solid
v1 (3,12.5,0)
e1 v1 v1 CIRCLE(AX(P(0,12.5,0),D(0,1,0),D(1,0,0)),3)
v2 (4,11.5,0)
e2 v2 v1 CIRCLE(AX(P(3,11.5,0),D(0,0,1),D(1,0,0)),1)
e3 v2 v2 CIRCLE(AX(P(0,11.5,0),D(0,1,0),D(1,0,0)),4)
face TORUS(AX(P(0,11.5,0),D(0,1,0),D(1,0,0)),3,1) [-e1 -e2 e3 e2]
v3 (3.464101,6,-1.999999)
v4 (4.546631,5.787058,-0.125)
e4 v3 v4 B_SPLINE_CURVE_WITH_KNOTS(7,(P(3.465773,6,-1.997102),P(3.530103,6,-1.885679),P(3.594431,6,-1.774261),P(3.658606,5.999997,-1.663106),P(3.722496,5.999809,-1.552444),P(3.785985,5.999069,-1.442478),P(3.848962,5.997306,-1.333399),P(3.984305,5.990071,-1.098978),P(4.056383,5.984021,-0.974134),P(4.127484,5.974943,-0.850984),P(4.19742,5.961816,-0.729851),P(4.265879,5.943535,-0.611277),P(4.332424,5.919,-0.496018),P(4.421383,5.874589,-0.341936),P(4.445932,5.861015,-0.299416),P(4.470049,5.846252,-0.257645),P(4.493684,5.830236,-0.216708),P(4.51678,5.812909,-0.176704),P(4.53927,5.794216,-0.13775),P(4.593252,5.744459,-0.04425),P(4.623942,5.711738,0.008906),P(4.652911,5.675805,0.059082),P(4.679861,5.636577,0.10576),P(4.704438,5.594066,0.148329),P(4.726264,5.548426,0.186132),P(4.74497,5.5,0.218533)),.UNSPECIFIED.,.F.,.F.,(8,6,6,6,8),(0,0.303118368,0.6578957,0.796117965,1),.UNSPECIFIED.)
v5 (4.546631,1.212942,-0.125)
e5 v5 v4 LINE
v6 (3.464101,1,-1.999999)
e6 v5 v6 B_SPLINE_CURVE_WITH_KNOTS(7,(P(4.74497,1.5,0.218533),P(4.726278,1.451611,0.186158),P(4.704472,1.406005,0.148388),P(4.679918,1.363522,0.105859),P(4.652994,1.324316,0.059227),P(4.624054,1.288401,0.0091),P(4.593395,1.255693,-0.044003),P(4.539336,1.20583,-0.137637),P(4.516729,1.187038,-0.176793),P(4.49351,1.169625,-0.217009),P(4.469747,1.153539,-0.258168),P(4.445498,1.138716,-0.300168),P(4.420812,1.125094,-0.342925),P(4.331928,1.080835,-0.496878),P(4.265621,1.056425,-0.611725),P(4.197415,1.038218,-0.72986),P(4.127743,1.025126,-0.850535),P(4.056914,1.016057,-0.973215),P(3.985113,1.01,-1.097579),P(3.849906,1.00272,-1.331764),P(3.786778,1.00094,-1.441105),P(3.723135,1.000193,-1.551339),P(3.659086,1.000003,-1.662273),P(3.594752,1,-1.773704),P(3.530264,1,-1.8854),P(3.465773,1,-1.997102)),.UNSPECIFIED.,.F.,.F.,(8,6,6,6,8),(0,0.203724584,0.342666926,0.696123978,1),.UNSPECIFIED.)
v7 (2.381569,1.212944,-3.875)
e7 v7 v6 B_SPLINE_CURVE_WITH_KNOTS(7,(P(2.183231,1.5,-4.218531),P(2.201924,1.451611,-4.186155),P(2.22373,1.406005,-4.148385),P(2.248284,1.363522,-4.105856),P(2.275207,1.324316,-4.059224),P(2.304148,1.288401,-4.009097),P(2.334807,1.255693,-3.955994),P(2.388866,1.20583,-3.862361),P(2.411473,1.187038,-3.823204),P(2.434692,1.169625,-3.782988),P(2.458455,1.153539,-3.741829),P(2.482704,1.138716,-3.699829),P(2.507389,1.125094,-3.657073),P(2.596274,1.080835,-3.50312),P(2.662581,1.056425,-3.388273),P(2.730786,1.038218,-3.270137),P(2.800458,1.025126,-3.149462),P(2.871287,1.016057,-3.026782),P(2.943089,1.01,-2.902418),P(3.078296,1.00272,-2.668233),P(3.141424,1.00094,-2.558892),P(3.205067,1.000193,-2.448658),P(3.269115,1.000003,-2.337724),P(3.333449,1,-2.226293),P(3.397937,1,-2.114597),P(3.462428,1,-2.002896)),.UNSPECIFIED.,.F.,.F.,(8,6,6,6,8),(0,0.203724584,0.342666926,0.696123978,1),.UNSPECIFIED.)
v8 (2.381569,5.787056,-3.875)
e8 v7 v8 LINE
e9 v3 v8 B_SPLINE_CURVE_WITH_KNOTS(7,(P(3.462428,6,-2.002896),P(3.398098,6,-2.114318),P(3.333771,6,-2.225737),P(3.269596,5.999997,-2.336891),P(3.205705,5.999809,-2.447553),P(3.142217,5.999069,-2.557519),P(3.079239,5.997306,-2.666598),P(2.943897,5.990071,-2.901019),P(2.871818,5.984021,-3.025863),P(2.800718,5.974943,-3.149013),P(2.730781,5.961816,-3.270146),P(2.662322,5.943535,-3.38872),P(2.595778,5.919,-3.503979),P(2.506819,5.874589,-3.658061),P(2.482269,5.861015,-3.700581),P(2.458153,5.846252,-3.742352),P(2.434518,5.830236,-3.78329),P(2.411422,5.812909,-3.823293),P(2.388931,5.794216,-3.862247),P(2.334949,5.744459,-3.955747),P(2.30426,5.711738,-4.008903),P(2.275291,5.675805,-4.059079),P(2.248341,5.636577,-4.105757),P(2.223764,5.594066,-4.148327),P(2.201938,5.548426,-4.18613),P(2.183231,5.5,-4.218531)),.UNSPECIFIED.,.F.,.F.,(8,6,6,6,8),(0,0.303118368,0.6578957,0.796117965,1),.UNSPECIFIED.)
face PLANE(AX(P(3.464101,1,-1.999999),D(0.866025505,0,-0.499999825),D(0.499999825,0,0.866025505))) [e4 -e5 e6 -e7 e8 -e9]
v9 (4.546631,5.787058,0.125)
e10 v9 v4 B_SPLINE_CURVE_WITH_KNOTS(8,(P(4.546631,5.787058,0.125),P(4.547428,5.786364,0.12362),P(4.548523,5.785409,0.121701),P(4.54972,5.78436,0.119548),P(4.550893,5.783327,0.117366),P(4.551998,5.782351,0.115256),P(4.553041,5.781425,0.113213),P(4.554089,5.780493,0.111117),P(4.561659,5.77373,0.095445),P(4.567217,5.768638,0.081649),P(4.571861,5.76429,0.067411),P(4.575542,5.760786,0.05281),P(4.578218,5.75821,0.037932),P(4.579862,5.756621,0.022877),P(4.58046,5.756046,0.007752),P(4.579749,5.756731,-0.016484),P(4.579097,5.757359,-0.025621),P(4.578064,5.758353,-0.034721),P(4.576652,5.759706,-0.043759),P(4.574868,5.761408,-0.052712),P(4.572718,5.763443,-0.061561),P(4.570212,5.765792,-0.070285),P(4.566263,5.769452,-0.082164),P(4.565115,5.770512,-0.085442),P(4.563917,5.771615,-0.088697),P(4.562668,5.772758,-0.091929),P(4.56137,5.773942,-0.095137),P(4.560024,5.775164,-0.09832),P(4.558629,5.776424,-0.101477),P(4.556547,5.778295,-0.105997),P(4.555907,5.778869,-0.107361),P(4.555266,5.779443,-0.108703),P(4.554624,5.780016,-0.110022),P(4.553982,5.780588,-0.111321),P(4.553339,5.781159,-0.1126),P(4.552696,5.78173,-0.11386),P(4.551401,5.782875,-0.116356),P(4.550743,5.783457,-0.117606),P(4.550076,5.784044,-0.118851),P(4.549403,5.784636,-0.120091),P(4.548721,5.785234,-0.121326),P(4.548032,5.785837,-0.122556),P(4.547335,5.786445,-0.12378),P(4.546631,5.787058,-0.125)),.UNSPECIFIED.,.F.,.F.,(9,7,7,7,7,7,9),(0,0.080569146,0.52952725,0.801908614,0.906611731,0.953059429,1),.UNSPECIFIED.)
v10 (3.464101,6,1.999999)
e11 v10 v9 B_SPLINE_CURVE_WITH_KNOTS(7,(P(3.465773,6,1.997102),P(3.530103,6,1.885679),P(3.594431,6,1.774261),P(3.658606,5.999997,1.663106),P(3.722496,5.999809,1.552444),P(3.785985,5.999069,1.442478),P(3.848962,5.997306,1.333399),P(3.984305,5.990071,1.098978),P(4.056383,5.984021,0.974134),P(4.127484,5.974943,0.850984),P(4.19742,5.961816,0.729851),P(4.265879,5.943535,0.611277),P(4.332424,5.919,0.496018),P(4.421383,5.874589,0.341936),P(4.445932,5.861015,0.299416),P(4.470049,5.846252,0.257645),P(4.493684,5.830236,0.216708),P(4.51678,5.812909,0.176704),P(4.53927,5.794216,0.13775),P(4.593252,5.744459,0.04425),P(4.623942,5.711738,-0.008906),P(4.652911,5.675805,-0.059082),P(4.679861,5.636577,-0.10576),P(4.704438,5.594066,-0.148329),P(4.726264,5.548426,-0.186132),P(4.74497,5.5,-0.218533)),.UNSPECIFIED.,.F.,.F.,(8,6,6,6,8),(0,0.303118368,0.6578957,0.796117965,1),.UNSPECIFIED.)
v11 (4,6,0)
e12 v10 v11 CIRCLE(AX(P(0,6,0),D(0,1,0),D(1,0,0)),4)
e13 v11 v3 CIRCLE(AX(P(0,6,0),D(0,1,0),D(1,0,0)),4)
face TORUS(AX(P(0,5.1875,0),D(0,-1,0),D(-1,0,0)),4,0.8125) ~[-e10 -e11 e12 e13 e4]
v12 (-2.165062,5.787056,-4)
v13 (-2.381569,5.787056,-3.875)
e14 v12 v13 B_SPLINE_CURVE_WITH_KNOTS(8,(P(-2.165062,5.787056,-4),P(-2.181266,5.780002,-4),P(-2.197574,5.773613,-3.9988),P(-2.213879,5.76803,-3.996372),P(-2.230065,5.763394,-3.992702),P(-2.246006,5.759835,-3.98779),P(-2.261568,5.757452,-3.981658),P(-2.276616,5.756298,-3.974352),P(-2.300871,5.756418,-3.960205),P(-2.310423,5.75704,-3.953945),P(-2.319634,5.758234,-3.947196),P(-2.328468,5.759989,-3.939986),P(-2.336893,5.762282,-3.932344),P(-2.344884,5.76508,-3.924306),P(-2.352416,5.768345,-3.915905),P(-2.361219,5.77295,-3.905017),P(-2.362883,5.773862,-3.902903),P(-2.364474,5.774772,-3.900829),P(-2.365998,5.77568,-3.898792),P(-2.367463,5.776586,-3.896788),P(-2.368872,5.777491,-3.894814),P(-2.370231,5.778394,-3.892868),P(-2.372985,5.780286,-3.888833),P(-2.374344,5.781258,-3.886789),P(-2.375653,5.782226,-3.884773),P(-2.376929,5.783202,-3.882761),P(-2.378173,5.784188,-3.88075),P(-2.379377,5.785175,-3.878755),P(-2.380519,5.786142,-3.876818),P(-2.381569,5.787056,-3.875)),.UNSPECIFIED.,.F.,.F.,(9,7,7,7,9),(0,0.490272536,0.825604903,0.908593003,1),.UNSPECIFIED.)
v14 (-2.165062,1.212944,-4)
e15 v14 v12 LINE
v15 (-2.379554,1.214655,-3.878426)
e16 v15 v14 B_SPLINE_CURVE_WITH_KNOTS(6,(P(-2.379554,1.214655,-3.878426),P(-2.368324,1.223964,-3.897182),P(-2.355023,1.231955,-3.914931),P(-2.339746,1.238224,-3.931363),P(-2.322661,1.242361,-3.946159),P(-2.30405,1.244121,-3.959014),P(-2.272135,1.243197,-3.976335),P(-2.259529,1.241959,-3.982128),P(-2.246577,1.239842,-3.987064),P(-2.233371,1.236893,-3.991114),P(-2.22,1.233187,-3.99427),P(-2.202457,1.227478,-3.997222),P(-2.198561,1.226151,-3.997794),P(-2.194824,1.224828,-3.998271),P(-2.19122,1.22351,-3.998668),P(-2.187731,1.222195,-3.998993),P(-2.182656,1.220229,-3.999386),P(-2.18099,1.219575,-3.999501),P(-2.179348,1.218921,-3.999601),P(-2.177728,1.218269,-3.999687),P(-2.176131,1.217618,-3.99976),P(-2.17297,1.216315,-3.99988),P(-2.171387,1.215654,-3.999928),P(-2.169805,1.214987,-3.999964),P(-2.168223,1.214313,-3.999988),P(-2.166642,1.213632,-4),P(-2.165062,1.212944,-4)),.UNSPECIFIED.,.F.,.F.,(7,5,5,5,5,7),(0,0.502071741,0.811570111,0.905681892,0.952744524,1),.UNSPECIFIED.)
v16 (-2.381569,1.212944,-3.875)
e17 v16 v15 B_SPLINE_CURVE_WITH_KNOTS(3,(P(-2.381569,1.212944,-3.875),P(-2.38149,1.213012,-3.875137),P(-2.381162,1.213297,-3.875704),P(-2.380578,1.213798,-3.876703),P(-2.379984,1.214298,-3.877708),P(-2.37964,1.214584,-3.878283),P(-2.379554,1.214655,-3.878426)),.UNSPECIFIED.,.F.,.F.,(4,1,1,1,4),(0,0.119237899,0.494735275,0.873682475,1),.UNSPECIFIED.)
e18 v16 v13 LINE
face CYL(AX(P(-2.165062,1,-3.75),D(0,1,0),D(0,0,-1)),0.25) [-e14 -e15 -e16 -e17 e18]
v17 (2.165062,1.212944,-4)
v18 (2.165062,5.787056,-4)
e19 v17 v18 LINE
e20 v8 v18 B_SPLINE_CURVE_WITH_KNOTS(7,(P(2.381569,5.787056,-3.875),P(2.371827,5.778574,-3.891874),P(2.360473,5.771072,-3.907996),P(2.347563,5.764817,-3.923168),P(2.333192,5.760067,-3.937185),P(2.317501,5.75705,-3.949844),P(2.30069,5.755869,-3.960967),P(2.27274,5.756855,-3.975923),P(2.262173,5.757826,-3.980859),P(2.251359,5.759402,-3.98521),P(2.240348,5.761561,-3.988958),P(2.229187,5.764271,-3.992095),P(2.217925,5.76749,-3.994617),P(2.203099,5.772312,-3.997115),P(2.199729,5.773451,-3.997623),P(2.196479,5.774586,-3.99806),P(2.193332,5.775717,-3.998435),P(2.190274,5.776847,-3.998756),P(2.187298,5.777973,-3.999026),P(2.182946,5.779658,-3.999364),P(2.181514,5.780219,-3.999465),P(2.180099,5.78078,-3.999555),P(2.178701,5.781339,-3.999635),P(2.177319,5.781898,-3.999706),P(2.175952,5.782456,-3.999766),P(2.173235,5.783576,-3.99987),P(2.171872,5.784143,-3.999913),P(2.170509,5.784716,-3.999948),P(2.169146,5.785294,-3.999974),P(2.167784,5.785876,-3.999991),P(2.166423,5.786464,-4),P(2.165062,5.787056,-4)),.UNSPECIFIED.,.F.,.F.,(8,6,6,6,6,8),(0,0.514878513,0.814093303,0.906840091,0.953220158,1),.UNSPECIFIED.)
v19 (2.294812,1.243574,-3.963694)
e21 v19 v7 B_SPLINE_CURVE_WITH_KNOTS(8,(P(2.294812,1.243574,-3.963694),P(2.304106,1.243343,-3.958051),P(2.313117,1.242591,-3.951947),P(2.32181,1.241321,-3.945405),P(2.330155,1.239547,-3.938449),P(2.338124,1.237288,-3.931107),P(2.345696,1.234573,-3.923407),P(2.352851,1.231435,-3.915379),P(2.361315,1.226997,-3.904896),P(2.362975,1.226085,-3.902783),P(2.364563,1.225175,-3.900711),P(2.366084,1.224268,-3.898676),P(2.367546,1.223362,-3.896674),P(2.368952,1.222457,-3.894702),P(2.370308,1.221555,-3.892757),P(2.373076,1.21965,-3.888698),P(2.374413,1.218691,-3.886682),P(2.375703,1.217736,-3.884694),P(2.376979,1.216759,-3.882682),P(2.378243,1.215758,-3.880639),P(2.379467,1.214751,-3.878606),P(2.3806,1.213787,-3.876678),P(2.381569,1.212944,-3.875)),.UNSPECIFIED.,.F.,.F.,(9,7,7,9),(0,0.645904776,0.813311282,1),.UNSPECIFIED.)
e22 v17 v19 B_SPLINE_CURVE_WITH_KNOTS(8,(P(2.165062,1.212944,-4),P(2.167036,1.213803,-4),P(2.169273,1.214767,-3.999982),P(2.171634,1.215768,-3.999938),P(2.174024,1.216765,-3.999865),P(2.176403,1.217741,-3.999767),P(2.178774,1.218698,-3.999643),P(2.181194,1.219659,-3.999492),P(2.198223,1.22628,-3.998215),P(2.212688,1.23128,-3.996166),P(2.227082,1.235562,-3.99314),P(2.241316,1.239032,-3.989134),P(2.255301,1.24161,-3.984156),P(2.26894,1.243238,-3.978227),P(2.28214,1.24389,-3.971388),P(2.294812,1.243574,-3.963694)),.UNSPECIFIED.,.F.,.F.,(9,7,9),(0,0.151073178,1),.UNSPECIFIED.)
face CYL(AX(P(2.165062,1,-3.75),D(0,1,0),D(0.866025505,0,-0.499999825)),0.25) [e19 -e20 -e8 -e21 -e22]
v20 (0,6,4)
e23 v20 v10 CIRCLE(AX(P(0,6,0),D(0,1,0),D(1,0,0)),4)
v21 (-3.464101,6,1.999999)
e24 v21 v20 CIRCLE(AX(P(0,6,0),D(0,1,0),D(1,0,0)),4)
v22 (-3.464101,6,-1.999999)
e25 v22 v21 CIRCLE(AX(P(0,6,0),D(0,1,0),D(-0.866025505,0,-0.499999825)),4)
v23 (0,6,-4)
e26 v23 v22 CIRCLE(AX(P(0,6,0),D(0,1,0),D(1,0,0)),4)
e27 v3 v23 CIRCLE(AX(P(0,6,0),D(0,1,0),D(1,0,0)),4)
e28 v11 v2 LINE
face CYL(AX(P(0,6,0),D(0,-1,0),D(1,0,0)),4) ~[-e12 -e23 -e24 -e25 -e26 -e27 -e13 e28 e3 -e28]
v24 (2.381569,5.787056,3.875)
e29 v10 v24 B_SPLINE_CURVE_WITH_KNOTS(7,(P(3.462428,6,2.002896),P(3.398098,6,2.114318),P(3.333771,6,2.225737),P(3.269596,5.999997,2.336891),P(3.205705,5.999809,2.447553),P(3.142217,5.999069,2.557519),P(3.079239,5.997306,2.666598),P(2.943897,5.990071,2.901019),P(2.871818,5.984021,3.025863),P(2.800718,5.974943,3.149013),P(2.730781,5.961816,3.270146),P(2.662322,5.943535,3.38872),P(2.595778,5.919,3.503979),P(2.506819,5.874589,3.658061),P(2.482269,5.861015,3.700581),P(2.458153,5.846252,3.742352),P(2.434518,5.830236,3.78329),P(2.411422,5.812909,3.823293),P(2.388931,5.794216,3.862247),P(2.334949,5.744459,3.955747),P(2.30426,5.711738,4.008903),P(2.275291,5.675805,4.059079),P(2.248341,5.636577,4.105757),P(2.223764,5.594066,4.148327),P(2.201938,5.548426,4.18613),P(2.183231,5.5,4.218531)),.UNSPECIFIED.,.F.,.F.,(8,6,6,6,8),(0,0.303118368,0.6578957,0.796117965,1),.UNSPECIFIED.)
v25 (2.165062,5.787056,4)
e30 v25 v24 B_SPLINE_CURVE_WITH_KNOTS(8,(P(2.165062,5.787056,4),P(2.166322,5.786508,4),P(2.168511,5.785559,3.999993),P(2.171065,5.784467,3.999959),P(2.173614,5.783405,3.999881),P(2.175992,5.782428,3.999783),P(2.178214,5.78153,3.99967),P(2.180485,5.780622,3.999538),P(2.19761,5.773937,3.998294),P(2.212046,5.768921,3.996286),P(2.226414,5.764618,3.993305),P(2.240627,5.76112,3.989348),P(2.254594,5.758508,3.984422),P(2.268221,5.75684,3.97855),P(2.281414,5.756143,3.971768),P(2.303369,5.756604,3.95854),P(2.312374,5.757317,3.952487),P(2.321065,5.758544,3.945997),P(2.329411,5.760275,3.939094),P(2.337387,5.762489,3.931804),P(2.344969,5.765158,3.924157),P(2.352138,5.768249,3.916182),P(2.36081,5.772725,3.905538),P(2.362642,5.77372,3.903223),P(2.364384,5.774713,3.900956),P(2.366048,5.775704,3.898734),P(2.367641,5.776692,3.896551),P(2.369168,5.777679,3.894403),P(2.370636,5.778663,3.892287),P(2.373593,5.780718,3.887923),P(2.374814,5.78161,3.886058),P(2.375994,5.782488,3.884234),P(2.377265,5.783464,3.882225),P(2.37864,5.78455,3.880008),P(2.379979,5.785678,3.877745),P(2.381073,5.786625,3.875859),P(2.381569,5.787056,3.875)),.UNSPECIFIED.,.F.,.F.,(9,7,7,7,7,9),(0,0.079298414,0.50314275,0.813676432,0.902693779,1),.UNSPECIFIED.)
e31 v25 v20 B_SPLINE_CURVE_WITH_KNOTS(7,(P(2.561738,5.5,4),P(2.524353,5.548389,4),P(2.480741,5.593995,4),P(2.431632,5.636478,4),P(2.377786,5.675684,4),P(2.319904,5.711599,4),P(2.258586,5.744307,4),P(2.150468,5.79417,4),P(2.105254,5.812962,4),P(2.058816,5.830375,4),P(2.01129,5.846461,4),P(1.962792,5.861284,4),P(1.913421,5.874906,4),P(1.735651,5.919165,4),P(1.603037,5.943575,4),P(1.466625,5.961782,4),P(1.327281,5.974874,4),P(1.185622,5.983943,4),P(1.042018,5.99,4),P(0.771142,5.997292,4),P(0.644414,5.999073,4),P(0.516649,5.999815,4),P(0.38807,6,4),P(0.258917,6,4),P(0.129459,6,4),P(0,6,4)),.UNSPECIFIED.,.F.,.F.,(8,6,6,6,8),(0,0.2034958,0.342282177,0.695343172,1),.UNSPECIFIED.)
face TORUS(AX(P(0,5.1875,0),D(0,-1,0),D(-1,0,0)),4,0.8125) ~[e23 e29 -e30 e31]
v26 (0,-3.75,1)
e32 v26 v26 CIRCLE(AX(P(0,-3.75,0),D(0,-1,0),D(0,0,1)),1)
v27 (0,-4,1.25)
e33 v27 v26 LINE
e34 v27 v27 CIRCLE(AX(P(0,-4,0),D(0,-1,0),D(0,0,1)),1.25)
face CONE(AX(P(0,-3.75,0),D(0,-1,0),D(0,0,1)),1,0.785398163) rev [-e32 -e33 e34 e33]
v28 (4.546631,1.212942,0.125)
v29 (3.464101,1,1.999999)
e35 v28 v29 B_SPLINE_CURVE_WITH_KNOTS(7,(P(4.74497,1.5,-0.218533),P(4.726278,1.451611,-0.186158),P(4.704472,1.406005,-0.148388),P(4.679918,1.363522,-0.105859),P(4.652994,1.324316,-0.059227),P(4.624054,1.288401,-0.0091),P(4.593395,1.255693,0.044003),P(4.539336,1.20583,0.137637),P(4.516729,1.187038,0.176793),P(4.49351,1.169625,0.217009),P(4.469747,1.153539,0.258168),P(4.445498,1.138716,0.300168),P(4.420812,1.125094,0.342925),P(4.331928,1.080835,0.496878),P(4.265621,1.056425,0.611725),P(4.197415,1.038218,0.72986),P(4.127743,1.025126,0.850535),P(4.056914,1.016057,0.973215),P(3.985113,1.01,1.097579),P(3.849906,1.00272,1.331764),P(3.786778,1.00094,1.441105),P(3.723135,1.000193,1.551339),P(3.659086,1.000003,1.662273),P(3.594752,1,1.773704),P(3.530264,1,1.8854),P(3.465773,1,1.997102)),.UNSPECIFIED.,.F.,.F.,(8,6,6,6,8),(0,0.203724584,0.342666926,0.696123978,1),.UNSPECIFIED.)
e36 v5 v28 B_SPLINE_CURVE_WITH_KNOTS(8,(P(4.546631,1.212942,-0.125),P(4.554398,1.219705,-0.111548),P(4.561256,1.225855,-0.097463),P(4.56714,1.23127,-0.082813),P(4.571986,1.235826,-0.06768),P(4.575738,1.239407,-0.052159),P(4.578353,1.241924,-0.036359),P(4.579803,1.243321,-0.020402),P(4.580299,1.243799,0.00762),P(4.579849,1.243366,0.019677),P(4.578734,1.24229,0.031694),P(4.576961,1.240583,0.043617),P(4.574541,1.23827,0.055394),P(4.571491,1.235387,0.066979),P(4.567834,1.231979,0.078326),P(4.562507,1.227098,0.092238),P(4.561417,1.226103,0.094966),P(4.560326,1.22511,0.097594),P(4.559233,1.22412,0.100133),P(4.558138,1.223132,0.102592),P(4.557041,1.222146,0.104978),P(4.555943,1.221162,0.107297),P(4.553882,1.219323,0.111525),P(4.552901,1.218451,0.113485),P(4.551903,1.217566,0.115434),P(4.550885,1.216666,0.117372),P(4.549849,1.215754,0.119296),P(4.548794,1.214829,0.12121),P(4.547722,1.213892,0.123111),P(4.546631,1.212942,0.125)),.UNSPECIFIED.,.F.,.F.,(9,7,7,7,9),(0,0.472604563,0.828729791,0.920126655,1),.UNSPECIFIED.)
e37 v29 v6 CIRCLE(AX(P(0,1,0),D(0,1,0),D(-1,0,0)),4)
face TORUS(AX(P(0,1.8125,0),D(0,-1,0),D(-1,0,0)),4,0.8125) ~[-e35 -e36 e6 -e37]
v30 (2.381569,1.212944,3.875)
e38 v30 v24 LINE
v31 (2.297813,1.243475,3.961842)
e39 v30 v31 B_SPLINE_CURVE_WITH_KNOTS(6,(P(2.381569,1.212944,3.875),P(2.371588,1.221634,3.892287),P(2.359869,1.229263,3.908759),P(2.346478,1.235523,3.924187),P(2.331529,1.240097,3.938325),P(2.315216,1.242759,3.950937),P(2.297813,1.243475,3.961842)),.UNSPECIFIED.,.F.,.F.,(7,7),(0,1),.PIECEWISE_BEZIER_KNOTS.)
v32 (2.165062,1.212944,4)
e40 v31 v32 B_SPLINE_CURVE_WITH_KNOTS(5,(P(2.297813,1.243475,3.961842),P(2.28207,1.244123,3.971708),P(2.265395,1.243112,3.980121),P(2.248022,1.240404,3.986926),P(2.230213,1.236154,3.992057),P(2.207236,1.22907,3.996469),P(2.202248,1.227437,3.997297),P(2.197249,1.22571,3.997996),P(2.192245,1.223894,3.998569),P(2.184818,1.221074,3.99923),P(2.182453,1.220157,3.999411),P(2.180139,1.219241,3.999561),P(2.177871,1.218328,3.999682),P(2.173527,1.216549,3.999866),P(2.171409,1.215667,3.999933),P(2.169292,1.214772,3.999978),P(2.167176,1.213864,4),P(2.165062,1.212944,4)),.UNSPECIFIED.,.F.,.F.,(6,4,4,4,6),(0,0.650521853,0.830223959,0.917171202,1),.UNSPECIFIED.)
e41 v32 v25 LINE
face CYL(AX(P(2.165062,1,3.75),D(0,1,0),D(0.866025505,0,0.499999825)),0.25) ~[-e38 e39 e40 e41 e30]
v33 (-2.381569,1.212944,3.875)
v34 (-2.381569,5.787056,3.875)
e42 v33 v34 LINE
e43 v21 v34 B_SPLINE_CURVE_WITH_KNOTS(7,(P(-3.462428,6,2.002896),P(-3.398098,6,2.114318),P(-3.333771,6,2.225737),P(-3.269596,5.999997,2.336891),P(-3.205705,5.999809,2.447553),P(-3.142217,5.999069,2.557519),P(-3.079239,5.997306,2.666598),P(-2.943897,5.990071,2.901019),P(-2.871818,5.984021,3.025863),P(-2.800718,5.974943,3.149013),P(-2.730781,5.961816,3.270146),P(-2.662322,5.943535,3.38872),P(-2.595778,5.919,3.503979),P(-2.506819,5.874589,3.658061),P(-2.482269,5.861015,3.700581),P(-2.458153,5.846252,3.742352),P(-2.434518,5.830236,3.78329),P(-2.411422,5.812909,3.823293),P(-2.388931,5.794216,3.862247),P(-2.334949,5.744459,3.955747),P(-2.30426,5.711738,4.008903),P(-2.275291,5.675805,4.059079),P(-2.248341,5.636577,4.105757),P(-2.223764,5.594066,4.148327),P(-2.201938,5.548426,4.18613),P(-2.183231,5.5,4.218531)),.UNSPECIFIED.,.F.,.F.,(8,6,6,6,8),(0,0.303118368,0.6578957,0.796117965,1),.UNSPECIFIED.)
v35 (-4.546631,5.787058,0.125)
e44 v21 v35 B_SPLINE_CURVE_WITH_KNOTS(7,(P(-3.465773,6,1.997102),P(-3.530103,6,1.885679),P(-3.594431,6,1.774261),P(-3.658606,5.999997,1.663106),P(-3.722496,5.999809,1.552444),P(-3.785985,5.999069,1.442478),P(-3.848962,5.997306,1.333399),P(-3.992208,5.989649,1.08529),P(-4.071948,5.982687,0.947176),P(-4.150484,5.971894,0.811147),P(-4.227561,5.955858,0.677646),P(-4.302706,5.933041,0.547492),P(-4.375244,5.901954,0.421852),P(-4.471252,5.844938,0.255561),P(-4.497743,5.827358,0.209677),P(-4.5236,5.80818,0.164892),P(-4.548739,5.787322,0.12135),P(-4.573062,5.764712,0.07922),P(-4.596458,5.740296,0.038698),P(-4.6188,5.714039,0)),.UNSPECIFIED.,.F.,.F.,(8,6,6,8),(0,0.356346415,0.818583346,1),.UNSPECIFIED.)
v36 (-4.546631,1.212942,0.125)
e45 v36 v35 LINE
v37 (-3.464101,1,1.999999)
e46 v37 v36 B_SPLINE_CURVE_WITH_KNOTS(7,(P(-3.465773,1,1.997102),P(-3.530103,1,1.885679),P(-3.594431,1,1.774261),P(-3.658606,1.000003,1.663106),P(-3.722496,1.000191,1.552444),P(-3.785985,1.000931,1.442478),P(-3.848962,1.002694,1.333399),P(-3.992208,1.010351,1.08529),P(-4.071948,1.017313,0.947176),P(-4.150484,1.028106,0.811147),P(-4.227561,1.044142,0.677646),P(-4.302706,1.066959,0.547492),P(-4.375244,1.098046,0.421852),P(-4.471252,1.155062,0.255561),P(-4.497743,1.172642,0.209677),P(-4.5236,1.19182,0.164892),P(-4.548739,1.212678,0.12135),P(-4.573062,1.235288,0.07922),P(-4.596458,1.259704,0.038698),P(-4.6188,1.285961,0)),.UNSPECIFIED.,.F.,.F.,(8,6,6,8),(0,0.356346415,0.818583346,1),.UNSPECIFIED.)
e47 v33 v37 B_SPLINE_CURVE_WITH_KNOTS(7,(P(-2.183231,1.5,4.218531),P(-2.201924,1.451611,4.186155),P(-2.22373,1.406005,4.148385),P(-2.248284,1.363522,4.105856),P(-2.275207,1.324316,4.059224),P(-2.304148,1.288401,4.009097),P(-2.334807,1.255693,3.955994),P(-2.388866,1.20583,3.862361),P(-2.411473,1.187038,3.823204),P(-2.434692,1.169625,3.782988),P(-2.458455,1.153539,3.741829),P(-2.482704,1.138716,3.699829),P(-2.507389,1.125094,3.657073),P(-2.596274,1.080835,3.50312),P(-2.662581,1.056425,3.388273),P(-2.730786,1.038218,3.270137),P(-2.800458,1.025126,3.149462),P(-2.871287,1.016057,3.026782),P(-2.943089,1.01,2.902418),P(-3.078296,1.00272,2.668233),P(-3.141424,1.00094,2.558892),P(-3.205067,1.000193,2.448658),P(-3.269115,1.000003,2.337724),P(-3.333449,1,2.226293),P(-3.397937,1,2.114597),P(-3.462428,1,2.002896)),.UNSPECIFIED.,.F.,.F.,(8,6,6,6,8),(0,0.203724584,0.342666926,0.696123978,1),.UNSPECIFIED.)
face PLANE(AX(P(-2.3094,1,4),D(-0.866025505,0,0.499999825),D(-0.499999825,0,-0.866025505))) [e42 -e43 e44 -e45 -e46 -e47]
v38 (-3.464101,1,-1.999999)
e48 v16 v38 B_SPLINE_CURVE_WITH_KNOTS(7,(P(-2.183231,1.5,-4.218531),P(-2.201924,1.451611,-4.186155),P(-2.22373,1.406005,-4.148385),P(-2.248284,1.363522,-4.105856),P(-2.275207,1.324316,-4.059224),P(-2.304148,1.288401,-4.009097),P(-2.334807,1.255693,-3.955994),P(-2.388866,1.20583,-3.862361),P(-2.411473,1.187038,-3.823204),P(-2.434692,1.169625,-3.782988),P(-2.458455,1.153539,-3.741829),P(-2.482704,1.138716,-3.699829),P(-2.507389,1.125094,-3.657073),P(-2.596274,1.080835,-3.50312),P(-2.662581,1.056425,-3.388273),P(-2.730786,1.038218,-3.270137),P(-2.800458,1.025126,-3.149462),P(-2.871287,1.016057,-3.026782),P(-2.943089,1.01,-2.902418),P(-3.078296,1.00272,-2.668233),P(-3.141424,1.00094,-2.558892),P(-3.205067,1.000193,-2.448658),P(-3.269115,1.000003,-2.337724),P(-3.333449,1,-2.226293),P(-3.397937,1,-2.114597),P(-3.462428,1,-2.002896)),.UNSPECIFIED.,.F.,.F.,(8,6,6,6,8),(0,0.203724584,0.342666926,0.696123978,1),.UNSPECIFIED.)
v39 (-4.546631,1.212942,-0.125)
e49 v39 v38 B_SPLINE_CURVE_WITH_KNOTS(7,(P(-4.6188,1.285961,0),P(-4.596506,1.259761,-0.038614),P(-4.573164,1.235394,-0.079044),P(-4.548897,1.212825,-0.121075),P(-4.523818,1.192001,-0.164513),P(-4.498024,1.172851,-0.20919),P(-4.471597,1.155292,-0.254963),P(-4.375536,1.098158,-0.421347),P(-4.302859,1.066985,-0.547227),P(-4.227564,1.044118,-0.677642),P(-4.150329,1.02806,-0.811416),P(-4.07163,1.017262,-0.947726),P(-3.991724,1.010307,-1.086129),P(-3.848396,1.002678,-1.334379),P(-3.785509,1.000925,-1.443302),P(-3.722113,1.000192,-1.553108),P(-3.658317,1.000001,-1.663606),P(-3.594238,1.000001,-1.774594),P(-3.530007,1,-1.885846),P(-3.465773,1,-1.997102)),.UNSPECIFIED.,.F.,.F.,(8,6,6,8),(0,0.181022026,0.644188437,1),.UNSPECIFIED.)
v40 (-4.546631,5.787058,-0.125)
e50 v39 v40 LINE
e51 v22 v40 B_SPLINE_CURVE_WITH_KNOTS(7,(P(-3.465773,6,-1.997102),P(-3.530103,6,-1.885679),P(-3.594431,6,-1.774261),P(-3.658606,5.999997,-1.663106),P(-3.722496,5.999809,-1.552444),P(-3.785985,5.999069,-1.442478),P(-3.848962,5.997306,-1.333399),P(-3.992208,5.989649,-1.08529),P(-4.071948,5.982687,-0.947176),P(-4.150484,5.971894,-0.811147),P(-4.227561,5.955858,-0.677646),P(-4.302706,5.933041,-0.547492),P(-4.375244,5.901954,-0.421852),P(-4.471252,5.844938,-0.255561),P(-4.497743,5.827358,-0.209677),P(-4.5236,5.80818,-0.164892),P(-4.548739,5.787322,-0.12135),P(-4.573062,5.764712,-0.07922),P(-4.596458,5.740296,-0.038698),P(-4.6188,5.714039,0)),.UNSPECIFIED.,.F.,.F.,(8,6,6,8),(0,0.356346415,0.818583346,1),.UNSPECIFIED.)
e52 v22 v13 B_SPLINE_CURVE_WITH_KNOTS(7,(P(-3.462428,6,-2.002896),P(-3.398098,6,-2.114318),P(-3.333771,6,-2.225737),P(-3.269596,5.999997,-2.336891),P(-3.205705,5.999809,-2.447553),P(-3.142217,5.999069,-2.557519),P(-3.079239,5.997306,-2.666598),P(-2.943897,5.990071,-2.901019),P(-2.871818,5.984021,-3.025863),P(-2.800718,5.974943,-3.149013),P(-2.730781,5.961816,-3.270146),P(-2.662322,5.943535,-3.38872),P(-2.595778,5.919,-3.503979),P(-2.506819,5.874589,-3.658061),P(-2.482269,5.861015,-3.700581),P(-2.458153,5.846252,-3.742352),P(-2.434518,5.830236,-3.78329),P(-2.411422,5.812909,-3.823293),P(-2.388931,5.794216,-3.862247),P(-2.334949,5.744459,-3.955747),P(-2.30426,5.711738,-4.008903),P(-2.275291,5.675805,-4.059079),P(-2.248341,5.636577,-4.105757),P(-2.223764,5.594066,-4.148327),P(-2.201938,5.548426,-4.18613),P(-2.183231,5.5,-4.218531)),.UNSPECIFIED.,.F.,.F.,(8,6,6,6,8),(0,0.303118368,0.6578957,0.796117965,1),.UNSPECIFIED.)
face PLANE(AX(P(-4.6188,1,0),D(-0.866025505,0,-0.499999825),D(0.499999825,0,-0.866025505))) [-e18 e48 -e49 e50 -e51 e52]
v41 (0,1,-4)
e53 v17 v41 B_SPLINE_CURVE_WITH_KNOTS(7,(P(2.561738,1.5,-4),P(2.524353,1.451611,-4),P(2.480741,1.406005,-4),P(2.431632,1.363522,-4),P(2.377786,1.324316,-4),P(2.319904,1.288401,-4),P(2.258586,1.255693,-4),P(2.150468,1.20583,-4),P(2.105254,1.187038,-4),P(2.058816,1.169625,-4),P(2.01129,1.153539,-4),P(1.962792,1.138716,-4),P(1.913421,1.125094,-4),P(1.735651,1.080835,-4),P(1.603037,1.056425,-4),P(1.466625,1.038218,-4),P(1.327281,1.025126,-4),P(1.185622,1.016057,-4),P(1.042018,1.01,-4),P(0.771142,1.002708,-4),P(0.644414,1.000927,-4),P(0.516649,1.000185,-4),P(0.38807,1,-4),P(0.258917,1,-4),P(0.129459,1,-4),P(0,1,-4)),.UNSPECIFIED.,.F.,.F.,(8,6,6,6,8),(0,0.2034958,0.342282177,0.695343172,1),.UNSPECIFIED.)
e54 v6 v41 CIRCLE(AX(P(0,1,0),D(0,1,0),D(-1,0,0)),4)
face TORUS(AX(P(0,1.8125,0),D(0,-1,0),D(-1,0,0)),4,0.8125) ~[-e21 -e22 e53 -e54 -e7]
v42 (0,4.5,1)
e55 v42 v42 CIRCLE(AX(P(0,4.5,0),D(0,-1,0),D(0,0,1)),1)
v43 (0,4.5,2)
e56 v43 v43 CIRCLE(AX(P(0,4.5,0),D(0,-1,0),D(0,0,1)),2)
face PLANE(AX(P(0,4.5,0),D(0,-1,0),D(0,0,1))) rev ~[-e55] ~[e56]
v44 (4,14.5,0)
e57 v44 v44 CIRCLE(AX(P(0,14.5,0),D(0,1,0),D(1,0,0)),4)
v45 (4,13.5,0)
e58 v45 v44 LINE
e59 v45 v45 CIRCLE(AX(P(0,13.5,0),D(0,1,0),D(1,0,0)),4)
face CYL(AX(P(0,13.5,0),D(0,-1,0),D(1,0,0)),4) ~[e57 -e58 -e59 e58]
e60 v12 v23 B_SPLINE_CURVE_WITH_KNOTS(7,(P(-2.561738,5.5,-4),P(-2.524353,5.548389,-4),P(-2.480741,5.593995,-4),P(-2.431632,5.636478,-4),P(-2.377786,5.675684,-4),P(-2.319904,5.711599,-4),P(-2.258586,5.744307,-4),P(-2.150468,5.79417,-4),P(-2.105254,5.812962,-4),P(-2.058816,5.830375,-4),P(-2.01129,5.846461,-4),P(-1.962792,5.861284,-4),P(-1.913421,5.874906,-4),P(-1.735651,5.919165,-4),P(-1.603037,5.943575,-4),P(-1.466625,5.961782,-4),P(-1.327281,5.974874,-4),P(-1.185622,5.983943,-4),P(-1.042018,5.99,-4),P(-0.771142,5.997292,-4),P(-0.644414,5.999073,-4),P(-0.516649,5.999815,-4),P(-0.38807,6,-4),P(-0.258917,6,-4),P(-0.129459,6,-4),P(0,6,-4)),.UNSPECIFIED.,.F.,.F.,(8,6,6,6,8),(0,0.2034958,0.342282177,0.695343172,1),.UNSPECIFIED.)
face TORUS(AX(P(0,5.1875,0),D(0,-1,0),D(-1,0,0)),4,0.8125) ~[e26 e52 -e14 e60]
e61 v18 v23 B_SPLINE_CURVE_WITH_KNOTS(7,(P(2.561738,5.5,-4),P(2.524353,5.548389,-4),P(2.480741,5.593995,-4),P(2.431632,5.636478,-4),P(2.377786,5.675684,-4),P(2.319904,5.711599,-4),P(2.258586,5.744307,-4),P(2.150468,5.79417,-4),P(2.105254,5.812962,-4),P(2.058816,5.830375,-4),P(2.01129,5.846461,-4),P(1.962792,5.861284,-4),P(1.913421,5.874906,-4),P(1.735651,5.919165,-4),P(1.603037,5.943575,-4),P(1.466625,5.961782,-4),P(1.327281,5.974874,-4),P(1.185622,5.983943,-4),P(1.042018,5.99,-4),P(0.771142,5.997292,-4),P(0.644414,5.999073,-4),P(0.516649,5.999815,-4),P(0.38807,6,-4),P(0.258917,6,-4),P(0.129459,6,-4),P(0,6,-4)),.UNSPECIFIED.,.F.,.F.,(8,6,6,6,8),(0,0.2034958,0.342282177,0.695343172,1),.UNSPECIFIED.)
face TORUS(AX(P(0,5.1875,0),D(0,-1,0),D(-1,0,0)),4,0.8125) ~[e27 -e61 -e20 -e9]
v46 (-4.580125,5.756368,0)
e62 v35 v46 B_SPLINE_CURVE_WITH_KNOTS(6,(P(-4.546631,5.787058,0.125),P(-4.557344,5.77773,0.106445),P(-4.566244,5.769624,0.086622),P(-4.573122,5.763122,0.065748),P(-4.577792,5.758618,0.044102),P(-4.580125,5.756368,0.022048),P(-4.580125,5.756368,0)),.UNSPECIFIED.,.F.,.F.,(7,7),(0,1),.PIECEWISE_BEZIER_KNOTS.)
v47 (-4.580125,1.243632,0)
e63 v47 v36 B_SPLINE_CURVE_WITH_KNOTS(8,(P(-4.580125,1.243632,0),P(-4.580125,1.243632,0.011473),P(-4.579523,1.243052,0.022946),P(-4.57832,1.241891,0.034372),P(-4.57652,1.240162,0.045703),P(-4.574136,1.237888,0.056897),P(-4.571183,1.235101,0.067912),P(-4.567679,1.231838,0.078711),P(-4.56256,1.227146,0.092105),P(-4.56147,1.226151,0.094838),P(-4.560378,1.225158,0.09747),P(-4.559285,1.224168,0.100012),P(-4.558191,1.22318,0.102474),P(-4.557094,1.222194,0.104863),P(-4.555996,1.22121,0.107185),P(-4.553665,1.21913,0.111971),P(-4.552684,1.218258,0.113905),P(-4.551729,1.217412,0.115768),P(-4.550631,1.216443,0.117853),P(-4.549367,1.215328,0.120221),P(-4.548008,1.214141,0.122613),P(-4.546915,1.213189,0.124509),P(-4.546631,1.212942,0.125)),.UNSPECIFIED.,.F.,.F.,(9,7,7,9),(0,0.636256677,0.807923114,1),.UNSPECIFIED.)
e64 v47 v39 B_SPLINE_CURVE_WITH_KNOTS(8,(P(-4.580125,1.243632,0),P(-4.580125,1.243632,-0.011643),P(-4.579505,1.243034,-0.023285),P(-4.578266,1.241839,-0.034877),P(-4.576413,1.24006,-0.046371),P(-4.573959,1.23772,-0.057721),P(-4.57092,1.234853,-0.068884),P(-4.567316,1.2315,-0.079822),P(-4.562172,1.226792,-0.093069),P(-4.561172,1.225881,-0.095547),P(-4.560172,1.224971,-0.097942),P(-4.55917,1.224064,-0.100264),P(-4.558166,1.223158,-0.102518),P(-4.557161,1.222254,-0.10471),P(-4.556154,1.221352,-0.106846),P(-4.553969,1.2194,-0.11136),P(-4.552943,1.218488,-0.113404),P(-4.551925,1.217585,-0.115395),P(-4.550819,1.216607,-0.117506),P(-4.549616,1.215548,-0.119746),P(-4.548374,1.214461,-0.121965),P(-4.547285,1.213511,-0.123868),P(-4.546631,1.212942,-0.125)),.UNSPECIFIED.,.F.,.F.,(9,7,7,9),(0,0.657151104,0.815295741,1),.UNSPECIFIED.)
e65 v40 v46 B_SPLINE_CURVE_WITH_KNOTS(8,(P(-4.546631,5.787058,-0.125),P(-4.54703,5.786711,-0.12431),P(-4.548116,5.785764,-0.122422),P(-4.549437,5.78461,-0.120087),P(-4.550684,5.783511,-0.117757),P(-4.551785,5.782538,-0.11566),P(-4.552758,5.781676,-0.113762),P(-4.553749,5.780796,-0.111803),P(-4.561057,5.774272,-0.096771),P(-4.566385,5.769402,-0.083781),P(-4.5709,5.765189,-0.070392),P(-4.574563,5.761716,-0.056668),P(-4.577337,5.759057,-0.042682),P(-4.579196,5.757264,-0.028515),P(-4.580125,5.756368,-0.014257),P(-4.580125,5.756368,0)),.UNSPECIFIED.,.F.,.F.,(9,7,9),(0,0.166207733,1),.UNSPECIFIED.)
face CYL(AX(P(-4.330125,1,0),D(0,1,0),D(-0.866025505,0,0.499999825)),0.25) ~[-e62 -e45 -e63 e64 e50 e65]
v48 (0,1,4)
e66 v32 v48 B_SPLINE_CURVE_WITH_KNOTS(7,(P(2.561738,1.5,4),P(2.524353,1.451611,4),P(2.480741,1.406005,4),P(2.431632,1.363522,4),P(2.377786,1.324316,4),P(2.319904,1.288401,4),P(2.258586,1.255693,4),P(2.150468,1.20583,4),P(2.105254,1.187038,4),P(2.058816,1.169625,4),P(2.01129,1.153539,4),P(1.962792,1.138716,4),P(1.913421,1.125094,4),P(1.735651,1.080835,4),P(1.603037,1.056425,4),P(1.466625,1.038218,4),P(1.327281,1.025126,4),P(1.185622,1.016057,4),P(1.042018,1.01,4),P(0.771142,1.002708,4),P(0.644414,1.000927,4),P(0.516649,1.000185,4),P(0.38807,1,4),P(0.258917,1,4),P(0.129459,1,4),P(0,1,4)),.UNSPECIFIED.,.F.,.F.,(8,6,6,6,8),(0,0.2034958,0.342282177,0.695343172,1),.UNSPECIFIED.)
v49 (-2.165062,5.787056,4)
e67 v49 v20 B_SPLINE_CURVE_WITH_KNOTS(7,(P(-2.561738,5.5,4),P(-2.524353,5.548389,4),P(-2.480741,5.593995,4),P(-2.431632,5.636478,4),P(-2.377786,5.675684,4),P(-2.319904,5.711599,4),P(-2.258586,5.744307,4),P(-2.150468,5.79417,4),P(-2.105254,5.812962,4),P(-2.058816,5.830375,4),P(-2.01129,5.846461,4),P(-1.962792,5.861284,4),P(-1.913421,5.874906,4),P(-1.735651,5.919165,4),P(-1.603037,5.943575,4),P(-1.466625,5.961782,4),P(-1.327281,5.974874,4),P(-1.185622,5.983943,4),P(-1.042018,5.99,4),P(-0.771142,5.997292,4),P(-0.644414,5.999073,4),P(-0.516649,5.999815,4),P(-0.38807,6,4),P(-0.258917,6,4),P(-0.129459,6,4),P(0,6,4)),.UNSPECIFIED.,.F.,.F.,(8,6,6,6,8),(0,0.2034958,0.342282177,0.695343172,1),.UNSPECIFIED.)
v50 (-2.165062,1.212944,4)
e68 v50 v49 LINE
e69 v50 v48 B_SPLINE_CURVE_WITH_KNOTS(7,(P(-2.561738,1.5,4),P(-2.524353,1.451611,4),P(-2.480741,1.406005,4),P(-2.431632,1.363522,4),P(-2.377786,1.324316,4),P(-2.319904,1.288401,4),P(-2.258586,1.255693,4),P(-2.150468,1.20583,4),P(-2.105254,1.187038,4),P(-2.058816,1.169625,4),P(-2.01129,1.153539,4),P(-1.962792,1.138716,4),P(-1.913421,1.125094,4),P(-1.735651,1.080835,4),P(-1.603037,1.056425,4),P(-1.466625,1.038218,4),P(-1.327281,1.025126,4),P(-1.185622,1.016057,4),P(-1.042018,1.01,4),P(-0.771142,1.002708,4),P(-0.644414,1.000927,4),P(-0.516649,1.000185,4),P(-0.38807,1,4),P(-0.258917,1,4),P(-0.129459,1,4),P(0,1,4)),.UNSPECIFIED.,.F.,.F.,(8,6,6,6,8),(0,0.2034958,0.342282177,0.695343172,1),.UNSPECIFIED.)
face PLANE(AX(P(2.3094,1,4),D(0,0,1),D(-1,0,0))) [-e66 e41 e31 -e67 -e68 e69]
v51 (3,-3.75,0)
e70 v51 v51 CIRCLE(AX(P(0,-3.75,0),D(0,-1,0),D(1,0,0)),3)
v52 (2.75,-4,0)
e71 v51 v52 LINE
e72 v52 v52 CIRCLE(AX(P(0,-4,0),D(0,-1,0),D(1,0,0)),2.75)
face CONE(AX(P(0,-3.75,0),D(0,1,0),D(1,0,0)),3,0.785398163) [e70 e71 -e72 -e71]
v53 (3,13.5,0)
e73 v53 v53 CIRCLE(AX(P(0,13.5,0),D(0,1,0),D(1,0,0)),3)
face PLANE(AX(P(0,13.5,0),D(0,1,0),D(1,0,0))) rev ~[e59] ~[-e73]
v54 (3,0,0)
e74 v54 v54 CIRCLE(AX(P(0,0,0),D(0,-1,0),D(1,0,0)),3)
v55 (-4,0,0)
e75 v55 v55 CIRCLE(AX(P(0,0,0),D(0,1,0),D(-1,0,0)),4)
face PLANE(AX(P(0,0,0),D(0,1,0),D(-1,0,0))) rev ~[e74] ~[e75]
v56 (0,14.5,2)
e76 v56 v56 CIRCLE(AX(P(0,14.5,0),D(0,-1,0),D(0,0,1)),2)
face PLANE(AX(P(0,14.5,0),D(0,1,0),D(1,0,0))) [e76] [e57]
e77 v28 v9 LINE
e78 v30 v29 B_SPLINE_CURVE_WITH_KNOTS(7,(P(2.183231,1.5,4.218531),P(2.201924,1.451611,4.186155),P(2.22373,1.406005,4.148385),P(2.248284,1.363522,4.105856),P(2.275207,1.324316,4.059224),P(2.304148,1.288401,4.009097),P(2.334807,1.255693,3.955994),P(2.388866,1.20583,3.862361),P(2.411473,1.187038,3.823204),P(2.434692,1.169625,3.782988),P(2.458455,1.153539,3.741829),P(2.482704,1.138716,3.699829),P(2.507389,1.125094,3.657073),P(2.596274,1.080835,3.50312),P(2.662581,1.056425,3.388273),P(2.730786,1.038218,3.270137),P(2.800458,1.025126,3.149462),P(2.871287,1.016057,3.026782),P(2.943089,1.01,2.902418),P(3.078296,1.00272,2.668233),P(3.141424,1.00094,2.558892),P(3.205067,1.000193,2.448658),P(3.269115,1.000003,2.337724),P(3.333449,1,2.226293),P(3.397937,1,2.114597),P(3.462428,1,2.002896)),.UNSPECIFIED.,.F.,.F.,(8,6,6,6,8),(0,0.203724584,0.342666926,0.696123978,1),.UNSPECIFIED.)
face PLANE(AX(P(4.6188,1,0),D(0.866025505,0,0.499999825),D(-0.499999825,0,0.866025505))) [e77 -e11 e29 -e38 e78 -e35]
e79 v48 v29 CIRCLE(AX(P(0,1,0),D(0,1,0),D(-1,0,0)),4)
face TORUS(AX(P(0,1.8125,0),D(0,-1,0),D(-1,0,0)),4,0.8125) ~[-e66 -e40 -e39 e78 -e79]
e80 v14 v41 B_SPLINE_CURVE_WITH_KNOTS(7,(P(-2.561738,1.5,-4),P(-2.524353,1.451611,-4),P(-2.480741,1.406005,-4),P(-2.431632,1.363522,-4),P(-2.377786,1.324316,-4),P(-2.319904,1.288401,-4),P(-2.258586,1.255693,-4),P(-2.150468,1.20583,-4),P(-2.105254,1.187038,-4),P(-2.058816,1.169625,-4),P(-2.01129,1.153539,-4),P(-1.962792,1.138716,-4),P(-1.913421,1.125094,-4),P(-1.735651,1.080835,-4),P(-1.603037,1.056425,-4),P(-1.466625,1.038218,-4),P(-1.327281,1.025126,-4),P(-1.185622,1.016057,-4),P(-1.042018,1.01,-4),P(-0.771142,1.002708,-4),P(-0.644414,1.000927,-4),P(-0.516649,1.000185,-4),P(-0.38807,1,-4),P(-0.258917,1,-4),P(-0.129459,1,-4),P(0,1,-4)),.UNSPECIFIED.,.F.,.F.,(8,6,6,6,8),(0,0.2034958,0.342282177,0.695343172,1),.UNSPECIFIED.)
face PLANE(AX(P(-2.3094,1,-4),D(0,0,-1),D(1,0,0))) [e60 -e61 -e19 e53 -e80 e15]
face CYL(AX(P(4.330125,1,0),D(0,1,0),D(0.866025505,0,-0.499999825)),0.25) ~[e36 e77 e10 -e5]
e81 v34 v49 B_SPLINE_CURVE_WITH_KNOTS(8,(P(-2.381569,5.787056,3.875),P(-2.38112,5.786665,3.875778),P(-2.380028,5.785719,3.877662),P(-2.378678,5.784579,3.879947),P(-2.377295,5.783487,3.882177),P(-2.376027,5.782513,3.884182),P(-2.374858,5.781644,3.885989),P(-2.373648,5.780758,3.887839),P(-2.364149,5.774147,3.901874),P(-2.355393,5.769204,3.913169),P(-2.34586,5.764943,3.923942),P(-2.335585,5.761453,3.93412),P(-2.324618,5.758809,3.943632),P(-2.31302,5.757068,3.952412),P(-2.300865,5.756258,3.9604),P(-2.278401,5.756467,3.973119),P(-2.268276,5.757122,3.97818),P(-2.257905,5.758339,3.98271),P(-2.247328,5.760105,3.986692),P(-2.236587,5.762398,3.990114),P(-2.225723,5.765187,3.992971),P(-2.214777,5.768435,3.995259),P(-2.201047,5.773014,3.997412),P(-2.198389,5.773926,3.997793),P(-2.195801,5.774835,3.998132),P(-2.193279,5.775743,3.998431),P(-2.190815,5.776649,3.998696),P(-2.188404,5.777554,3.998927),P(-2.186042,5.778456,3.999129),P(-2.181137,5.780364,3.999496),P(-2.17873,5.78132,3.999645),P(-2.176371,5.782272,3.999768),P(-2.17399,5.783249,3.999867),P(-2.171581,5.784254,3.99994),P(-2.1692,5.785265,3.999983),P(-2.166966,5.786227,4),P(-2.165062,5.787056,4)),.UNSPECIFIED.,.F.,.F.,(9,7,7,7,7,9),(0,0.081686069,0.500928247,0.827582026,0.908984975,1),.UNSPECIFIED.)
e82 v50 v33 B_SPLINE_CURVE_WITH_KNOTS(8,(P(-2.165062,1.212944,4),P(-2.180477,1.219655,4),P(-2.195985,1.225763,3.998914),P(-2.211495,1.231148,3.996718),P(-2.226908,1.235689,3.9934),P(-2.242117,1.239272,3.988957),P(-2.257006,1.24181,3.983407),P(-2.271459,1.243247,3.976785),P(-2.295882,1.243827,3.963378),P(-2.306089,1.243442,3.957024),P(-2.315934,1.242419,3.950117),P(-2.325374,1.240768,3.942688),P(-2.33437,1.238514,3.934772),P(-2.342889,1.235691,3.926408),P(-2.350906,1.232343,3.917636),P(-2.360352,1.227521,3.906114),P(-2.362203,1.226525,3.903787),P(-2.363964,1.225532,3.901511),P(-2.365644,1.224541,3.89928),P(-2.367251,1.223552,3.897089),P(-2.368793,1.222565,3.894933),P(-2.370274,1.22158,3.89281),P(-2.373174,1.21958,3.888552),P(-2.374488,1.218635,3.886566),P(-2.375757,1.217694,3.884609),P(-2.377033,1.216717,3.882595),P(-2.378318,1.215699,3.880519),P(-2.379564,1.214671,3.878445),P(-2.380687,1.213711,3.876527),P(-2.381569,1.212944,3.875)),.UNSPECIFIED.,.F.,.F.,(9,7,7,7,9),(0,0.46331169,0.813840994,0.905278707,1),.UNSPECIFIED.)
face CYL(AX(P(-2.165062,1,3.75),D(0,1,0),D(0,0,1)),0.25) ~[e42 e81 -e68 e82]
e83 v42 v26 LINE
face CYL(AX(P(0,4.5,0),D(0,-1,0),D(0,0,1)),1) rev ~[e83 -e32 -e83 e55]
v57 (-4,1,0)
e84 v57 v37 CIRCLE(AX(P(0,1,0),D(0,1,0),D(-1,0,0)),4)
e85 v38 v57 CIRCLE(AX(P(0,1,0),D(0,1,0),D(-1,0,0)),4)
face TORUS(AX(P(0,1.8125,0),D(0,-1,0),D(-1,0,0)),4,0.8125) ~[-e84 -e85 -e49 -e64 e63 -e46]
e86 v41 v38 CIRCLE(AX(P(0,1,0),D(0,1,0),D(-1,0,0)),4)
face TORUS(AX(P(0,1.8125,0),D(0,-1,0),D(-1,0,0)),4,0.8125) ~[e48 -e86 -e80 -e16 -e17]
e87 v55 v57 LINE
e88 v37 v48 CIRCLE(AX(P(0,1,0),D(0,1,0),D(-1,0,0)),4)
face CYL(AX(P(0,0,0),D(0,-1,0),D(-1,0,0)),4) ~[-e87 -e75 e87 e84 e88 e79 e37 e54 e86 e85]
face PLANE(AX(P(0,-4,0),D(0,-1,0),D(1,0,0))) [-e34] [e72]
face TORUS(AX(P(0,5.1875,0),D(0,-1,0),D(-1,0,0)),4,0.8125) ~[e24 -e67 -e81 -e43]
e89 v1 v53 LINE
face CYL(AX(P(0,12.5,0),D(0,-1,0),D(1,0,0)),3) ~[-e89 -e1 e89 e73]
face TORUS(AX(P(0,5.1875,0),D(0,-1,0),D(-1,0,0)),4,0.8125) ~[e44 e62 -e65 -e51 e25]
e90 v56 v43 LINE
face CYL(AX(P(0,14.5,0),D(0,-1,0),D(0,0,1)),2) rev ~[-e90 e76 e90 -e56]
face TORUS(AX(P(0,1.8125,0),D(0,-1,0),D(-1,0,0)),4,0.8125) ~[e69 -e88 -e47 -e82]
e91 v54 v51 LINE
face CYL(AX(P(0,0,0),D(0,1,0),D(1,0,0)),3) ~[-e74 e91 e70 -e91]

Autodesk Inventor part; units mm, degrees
ref_plane "YZ Plane" through (0, 0, 0) normal (1, 0, 0) x (0, 1, 0)
ref_plane "XZ Plane" through (0, 0, 0) normal (0, 1, 0) x (-1, 0, 0)
ref_plane "XY Plane" through (0, 0, 0) normal (0, 0, 1) x (1, 0, 0)
sketch "草圖1" plane through (0, 0, 0) normal (0, 1, 0) x (-1, 0, 0)
  circle A0 centre (0, 0) radius 4
  dimension "d0" = 8
extrude "擠出1" add sketch "草圖1" along normal blind 1
sketch "草圖2" plane through (0, 1, 0) normal (0, 1, 0) x (1, 0, 0)
  circle A0 centre (0, 0) radius 4 projected
  line L0 (2.3094, 4) -> (4.6188, 0)
  line L1 (4.6188, 0) -> (2.3094, -4)
  line L2 (2.3094, -4) -> (-2.3094, -4)
  line L3 (-2.3094, -4) -> (-4.6188, 0)
  line L4 (-4.6188, 0) -> (-2.3094, 4)
  line L5 (-2.3094, 4) -> (2.3094, 4)
  point P0 (0, 4)
extrude "擠出2" add sketch "草圖2" along normal blind 5
sketch "草圖3" plane through (0, 6, 0) normal (0, 1, 0) x (1, 0, 0)
  circle A0 centre (0, 0) radius 4
  dimension "d49" = 8
extrude "擠出3" add sketch "草圖3" along normal blind 6.5
fillet "圓角1" radius 1 1 edges at (-4, 12.5, 0)
sketch "草圖4" plane through (0, 12.5, 0) normal (0, 1, 0) x (1, 0, 0)
  circle A0 centre (0, 0) radius 3 projected
  circle A1 centre (0, 0) radius 3
extrude "擠出4" add sketch "草圖4" along normal blind 1
sketch "草圖5" plane through (0, 13.5, 0) normal (0, 1, 0) x (1, 0, 0)
  circle A0 centre (0, 0) radius 3 projected
  circle A1 centre (0, 0) radius 4
  dimension "d11" = 8
extrude "擠出5" add sketch "草圖5" along normal blind 1 contours A0 | A1
fillet "圓角2" radius 0.25 6 edges at (4.6188, 3.5, 0) (2.3094, 3.5, 4) (2.3094, 3.5, -4) (-2.3094, 3.5, -4) (-4.6188, 3.5, 0) (-2.3094, 3.5, 4)
sketch "草圖9" plane through (0, 0, 0) normal (0, 0, 1) x (1, 0, 0)
  line L0 (-4.75, 6) -> (-4, 6)
  line L1 (-4.75, 1) -> (-4, 1)
  line L2 (-4.75, 6) -> (-4.75, 5.5)
  line L3 (-4.75, 1) -> (-4.75, 1.5)
  arc A0 (-4, 6) -> (-4.75, 5.5) centre (-4, 5.1875) ccw
  arc A1 (-4.75, 1.5) -> (-4, 1) centre (-4, 1.8125) ccw
  line L4 (0, 0) -> (0, 9)
  dimension "d39" = 1
  dimension "d40" = 5
  dimension "d41" = 4
  dimension "d42" = 4
  dimension "d43" = 0.75
  dimension "d44" = 0.75
  dimension "d45" = 0.5
  dimension "d46" = 0.5
revolve "迴轉1" cut sketch "草圖9" angle 360 about axis through (0, 0, 0) along (0, 1, 0)
sketch "草圖10" plane through (0, 0, 0) normal (0, -1, 0) x (1, 0, 0)
  circle A0 centre (0, 0) radius 4 projected
  circle A1 centre (0, 0) radius 3
  dimension "d54" = 6
extrude "擠出6" add sketch "草圖10" along normal blind 4 contours A1
thread "螺紋2" size "M6x1" class "6g" standard "ANSI Metric M Profile" full length
sketch "草圖11" plane through (0, 14.5, 0) normal (0, 1, 0) x (1, 0, 0)
  circle A0 centre (0, 0) radius 4 projected
hole "孔4" at (0, 14.5, 0) direction (0, -1, 0) diameter 2 end through all counterbore diameter 4 counterbore depth 10
chamfer "倒角1" distance 0.25 angle 45 2 edges at (-3, -4, 0) (0, -4, -1)
properties part number "pc4_m10"
